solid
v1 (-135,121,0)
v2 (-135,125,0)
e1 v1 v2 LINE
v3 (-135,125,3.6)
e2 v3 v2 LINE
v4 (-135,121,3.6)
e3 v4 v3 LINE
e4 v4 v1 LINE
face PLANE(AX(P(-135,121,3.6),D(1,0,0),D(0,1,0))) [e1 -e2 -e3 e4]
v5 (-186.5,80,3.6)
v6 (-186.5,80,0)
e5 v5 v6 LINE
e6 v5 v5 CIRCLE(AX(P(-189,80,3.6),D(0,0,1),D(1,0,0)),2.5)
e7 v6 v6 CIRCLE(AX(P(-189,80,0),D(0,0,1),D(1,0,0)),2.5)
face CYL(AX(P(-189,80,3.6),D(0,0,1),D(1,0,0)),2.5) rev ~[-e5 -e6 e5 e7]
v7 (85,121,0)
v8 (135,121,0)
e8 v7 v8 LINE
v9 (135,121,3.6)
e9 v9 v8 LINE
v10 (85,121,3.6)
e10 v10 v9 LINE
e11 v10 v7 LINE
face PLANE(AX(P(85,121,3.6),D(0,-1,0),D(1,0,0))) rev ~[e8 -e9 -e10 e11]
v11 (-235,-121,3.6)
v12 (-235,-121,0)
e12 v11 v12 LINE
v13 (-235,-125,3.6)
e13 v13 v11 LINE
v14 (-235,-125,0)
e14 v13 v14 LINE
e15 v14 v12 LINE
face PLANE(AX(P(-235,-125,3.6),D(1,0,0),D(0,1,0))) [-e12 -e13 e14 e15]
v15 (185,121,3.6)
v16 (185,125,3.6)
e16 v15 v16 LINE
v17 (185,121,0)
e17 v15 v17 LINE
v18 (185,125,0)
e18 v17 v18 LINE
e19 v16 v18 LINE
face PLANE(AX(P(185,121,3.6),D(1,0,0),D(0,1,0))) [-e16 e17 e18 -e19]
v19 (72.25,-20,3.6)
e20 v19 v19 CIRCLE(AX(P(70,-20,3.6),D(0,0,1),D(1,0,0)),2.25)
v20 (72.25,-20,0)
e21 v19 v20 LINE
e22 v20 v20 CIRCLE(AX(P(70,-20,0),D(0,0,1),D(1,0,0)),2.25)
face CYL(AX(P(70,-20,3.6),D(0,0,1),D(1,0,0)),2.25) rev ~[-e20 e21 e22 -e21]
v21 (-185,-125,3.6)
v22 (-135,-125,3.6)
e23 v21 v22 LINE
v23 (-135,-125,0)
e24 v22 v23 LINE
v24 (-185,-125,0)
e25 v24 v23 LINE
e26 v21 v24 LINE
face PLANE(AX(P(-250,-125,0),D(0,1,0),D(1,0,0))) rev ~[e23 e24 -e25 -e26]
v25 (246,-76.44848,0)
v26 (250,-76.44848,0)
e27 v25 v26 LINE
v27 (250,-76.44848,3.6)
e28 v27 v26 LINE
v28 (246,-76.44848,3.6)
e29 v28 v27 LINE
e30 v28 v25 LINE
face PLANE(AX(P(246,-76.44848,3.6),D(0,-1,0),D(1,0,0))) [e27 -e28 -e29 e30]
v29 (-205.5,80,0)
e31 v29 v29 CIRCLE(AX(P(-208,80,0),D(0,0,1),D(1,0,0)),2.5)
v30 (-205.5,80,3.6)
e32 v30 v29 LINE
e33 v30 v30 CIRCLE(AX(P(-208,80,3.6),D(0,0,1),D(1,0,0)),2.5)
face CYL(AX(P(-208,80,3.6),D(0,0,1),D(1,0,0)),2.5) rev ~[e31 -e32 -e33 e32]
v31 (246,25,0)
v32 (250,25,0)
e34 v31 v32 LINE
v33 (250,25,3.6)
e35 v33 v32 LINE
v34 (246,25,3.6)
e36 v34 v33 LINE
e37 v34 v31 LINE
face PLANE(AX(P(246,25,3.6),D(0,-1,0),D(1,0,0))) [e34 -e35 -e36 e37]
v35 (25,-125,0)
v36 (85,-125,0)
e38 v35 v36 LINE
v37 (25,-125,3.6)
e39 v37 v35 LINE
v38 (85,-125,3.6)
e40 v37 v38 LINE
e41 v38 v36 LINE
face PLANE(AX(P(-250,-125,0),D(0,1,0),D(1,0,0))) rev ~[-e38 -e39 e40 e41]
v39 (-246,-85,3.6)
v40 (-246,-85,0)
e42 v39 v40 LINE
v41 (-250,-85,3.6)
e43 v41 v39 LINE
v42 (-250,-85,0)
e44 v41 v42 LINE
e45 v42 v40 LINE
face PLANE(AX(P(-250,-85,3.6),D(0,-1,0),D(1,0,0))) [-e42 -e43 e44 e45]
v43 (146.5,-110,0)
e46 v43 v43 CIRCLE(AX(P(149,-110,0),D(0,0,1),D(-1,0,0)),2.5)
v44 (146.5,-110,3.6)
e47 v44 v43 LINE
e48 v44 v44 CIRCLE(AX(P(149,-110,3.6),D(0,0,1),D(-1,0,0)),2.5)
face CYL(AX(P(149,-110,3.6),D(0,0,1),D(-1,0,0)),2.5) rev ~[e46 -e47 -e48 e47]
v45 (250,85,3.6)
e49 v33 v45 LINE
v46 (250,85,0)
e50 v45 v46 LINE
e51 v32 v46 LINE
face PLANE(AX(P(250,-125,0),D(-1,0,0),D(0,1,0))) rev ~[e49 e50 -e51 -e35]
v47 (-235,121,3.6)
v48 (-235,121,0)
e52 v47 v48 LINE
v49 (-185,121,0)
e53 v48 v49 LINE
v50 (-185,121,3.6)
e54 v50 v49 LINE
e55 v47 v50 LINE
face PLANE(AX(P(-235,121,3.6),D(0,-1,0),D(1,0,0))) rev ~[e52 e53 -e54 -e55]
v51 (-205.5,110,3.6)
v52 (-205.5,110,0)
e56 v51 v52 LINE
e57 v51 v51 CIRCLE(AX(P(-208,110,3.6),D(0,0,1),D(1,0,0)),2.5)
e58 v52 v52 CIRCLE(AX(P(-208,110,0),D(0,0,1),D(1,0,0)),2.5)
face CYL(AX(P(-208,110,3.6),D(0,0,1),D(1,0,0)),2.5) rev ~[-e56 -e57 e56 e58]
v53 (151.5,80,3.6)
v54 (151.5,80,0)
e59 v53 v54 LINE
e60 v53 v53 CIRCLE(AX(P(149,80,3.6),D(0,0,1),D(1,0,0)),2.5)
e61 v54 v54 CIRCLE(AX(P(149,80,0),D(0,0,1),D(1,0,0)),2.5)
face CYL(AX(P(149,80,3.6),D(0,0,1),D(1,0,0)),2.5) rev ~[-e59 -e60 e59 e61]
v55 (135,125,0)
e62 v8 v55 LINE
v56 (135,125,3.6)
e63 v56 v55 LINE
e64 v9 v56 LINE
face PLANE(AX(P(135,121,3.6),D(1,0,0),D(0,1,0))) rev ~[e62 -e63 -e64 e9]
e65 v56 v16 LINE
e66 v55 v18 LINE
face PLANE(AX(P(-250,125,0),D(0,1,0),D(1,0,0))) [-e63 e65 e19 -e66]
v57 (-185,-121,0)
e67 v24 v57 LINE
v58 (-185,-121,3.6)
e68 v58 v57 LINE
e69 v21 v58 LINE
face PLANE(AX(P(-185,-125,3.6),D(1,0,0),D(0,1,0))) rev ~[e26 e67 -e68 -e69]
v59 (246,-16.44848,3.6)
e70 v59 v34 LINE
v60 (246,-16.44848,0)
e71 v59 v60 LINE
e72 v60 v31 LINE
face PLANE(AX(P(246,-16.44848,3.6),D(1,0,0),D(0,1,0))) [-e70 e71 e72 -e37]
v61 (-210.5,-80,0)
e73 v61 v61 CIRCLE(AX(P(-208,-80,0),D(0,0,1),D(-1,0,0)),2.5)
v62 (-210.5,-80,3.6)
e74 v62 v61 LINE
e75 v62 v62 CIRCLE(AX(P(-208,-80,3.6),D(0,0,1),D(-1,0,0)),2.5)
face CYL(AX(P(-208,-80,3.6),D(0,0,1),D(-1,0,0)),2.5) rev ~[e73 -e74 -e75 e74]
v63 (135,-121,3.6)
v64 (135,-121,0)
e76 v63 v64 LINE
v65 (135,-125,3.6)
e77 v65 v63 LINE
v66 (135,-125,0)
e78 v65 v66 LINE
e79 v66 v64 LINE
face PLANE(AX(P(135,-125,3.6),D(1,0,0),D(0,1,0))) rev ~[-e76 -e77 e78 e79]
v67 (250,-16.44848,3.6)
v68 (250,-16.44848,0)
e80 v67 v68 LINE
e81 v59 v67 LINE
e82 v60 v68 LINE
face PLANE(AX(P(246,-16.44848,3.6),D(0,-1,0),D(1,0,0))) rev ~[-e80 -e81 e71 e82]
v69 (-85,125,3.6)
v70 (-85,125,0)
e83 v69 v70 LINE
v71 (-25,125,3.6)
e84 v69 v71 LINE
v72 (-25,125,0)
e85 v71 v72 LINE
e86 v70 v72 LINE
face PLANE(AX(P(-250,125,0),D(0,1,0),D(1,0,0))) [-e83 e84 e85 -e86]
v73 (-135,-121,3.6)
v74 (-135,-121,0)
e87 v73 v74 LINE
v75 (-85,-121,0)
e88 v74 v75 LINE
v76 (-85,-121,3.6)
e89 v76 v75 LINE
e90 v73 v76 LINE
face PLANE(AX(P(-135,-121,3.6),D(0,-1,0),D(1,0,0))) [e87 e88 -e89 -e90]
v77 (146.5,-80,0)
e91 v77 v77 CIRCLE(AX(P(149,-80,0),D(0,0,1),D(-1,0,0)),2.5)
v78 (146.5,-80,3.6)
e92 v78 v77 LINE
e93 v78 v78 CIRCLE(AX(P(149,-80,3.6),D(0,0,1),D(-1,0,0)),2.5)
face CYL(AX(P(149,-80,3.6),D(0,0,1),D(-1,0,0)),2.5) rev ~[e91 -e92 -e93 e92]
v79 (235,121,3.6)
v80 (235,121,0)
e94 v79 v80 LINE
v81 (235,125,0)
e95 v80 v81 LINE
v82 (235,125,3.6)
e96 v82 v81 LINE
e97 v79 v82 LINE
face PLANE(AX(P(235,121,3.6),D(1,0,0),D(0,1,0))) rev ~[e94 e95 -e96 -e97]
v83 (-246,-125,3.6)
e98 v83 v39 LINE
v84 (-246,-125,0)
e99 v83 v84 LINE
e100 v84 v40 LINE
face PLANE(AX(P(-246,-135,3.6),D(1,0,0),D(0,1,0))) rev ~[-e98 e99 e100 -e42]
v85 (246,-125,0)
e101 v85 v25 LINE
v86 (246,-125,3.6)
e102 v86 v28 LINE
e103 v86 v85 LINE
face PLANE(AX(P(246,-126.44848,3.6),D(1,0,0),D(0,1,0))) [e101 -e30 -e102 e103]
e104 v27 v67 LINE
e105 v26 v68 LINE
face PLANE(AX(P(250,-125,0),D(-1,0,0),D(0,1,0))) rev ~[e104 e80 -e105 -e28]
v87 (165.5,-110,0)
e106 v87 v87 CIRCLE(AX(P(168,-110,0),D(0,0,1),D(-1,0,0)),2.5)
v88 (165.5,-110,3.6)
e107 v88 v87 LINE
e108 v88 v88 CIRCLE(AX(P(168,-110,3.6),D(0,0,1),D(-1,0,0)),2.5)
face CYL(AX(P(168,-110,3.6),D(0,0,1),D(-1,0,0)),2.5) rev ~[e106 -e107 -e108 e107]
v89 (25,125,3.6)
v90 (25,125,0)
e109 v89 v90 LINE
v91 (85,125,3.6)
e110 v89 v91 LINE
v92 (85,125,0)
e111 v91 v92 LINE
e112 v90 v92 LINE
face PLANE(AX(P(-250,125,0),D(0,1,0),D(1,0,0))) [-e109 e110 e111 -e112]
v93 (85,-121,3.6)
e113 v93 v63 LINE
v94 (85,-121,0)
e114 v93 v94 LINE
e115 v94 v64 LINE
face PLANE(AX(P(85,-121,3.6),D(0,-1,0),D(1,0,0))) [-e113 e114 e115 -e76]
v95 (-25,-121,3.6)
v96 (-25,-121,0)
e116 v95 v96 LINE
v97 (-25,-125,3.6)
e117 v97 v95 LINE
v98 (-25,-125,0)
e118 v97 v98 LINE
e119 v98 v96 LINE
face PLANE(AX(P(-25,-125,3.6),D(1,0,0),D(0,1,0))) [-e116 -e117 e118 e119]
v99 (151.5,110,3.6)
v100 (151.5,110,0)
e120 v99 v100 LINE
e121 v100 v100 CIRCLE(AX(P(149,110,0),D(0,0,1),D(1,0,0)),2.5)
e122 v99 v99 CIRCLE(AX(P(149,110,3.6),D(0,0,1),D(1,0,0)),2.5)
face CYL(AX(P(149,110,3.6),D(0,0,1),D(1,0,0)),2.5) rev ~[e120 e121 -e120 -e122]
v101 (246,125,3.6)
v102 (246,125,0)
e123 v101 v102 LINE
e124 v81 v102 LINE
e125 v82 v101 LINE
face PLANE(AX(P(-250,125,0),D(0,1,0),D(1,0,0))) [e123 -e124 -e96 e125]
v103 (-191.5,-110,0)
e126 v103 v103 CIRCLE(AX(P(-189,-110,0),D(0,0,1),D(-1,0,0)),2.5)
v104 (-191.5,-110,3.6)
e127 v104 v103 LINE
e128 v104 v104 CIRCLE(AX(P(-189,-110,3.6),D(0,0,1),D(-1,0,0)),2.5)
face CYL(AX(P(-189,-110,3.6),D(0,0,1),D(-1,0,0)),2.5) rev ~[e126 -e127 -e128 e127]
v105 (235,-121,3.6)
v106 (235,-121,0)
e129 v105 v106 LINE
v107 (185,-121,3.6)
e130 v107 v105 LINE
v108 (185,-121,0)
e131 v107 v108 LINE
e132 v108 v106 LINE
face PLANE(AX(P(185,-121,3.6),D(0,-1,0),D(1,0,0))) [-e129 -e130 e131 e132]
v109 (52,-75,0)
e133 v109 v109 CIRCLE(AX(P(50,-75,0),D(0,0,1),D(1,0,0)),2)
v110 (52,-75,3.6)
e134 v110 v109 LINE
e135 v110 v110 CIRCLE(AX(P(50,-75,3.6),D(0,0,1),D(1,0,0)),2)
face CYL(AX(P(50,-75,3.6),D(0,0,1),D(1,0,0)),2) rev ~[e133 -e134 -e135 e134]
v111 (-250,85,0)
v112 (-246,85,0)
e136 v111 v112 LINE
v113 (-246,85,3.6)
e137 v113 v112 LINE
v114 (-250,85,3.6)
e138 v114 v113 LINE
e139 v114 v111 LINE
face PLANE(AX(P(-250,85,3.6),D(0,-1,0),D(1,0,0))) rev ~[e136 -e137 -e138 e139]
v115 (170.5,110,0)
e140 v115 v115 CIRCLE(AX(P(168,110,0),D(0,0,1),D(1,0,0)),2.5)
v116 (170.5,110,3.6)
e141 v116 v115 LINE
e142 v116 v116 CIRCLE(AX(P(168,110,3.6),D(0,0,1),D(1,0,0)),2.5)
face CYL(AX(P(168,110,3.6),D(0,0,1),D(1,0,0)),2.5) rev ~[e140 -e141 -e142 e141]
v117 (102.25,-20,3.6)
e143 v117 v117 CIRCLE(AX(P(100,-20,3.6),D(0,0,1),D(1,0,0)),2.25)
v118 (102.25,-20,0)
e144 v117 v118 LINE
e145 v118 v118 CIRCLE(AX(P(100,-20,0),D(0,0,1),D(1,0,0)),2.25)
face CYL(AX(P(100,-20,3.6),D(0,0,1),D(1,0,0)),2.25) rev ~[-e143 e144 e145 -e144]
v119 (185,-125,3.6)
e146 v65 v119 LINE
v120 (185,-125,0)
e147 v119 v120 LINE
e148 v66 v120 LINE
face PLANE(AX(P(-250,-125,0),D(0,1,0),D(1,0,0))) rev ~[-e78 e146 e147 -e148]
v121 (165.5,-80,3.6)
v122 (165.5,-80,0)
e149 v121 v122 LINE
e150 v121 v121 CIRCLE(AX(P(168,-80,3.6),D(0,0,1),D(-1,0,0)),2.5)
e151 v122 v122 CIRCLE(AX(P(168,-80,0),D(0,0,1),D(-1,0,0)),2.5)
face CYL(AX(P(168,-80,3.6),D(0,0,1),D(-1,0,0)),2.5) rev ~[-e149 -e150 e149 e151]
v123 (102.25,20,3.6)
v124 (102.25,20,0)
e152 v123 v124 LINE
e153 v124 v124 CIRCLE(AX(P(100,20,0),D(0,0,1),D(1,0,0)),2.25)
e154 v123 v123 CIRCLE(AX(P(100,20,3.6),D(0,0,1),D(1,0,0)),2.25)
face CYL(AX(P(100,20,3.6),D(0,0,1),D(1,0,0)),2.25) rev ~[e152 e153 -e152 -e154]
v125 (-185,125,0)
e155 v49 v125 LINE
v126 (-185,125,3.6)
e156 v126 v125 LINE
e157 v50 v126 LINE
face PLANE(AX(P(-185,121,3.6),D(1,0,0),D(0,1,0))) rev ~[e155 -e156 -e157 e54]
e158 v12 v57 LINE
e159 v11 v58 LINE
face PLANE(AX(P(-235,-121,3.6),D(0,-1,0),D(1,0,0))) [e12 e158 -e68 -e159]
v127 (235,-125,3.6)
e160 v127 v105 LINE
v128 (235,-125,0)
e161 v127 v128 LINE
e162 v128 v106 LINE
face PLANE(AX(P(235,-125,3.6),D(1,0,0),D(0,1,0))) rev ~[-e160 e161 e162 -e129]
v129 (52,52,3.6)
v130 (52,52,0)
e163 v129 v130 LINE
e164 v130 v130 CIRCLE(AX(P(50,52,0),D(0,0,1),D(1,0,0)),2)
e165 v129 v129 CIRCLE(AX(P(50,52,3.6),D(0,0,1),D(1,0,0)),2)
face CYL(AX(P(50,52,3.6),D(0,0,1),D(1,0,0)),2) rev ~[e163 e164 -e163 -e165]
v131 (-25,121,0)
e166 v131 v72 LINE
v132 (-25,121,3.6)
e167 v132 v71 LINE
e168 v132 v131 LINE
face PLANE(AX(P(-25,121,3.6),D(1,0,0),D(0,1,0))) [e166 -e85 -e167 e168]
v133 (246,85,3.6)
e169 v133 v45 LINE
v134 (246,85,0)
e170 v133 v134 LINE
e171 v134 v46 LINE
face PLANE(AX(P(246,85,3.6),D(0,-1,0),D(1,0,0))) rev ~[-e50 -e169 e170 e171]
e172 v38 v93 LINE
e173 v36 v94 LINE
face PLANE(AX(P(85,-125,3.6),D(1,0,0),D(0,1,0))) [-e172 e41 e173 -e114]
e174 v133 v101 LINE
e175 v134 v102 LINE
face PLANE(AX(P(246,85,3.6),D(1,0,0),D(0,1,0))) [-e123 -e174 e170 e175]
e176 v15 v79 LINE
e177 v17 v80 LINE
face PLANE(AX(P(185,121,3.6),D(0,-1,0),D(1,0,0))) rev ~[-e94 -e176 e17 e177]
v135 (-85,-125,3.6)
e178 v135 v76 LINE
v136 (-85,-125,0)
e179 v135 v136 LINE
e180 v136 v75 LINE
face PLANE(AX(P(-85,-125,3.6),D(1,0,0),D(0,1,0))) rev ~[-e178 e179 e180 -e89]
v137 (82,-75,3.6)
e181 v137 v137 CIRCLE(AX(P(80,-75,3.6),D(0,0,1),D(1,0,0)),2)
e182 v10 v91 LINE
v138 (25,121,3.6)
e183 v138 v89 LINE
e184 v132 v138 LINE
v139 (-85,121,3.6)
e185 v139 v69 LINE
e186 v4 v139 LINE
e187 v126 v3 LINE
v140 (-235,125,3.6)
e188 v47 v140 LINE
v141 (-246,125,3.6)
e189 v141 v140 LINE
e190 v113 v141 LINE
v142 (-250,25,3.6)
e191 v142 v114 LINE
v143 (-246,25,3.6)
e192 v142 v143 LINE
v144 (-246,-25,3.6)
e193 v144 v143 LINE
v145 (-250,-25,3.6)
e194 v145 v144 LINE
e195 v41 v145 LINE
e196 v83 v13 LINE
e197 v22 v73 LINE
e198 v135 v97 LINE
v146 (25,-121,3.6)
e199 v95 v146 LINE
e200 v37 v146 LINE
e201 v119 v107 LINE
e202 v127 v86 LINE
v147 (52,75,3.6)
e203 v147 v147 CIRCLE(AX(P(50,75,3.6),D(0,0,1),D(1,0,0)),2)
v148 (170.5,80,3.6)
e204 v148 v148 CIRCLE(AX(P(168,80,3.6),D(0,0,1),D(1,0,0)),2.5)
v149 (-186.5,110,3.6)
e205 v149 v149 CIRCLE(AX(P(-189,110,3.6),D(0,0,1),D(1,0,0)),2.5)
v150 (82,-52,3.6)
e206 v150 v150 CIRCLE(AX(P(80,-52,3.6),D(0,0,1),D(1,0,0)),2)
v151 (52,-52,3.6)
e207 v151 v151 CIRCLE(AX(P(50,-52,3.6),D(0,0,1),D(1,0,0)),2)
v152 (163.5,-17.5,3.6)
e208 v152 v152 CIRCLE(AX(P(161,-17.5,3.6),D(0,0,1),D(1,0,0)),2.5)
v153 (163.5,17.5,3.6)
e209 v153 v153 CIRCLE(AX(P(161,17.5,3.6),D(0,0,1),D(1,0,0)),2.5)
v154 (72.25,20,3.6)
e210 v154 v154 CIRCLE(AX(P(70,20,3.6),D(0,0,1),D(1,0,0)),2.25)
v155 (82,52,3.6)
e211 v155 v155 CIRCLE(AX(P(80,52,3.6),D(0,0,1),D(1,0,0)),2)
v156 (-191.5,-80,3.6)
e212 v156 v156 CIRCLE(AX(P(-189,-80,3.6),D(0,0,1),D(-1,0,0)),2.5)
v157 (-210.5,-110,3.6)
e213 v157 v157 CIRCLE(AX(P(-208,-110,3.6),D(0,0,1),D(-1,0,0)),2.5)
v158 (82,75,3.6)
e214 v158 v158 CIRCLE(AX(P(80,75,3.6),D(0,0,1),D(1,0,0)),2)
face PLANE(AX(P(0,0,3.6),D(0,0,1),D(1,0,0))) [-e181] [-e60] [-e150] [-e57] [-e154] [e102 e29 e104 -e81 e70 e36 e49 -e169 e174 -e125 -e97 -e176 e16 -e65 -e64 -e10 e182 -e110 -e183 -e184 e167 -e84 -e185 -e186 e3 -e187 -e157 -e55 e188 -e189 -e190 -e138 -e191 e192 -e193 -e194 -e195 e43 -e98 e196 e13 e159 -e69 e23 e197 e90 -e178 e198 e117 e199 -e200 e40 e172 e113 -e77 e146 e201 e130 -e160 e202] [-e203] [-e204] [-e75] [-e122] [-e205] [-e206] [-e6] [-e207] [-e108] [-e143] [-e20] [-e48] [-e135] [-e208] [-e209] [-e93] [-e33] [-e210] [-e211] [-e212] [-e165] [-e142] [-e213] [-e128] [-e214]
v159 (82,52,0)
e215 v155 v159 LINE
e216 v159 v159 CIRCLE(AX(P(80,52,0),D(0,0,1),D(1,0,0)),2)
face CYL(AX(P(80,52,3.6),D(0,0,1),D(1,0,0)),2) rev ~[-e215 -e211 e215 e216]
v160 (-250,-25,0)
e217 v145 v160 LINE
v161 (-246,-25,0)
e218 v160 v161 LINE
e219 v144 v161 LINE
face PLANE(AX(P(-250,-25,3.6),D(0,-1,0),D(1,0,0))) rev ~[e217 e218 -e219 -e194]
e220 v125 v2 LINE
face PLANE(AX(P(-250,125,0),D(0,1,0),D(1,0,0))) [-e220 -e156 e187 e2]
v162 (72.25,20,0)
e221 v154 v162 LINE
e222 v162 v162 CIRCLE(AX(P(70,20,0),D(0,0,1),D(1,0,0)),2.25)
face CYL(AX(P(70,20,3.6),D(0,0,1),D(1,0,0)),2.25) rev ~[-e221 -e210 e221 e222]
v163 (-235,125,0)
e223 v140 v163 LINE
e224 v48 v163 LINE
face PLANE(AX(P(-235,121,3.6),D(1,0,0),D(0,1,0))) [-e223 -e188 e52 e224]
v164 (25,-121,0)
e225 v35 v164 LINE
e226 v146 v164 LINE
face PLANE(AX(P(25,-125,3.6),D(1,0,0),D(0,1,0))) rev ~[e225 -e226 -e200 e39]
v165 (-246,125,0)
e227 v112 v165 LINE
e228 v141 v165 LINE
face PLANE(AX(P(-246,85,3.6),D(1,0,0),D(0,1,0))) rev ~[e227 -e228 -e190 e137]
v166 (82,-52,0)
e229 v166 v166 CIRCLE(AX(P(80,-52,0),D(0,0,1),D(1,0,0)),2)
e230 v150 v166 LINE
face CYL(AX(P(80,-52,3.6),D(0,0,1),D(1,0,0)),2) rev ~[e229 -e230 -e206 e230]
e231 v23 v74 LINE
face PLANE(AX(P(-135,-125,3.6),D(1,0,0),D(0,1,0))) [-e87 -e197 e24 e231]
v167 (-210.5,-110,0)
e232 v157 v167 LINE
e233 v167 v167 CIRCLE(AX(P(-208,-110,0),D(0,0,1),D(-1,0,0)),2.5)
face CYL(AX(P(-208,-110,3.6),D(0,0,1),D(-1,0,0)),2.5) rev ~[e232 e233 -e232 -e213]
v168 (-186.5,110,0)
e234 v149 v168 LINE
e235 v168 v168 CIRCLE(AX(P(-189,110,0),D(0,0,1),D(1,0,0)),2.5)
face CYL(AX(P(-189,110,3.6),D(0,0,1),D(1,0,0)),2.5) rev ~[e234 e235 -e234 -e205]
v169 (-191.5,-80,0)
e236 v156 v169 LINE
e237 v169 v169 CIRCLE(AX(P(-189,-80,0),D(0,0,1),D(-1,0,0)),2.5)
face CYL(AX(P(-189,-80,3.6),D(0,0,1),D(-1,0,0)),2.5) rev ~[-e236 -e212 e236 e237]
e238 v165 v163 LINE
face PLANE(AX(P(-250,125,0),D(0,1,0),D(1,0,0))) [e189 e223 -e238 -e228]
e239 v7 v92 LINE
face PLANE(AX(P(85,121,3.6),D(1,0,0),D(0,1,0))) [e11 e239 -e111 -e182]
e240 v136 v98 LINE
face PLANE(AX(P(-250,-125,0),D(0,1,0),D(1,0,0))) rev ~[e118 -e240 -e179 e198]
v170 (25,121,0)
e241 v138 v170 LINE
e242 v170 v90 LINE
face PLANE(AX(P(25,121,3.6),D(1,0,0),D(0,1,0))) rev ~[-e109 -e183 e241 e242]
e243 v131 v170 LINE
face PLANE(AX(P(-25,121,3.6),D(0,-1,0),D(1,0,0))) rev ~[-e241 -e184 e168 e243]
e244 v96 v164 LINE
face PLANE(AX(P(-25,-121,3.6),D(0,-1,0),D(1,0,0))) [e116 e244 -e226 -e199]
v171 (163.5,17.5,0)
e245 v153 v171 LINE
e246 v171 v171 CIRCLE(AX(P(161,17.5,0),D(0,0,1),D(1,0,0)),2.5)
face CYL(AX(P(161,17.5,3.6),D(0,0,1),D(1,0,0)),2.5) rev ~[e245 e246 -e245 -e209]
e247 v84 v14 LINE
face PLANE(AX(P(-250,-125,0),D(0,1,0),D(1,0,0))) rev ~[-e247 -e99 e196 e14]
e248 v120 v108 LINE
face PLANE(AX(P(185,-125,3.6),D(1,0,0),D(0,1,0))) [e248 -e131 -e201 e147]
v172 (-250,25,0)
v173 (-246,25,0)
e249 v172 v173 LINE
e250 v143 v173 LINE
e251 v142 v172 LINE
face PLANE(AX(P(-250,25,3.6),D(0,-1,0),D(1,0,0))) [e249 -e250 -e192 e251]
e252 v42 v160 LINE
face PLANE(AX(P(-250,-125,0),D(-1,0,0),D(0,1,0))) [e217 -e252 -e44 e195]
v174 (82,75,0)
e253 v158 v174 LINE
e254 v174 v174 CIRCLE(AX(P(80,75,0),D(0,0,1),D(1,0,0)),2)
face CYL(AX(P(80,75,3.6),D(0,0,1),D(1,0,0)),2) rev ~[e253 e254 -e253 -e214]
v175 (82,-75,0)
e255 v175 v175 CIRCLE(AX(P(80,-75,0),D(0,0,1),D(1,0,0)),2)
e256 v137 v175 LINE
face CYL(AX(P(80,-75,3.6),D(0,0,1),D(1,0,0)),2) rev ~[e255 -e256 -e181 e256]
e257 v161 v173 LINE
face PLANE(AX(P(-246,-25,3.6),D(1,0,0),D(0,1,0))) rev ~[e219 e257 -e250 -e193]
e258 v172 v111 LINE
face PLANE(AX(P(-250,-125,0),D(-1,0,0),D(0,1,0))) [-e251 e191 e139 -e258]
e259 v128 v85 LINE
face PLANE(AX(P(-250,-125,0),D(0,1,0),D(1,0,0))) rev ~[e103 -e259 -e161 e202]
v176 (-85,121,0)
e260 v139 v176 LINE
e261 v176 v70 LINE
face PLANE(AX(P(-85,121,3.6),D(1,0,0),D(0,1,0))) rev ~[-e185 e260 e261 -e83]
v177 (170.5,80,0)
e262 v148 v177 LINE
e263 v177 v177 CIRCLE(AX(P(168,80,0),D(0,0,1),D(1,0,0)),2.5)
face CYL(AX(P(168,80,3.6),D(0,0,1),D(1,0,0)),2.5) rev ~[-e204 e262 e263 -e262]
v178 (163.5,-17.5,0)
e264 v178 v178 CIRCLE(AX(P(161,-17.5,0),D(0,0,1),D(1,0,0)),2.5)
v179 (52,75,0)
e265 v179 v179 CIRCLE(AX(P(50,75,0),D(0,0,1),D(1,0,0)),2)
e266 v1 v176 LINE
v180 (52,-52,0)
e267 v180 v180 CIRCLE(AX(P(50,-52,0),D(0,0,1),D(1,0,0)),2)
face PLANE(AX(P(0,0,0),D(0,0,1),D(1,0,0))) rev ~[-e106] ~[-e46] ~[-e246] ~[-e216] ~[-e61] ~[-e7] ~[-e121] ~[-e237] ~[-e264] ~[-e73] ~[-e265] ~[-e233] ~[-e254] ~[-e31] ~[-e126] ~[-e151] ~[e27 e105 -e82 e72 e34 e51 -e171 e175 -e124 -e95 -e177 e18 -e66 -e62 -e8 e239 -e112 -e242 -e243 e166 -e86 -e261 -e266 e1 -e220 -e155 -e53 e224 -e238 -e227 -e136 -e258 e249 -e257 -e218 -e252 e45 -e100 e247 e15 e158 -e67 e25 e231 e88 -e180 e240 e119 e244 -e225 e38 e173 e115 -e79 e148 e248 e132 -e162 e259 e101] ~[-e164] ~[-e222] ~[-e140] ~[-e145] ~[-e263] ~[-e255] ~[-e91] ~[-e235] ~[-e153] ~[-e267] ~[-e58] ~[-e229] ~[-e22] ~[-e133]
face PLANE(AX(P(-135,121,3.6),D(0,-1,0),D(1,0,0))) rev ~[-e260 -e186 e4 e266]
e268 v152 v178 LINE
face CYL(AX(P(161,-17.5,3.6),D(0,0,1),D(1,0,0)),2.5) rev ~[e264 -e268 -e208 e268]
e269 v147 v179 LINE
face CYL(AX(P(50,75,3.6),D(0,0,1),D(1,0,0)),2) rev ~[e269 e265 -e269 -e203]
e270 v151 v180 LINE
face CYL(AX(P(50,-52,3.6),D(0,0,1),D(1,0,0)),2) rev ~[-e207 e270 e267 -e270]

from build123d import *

# Parameters (mm, degrees)
SKETCH_1_W          = 500
SKETCH_1_H          = 250
EXTRUDE_1_DEPTH     = 3.6
SKETCH_2_W          = 50
SKETCH_2_H          = 4
CUT_EXTRUDE_1_DEPTH = 3.6
SKETCH_3_W          = 4
SKETCH_3_H          = 50
SKETCH_3_H_2        = 41.448480175
CUT_EXTRUDE_2_DEPTH = 3.6
SKETCH_4_R          = 2
CUT_EXTRUDE_3_DEPTH = 280.531679779
SKETCH_5_R          = 2
CUT_EXTRUDE_4_DEPTH = 10
SKETCH_7_R          = 2.5
CUT_EXTRUDE_5_DEPTH = 10
SKETCH_9_R          = 2.25
CUT_EXTRUDE_6_DEPTH = 280.531679779
SKETCH_10_R         = 2.5
CUT_EXTRUDE_7_DEPTH = 280.531679779


with BuildPart() as part:
    # 草图1 → 凸台-拉伸1 (new body)
    with BuildSketch(Plane.XY):
        Rectangle(SKETCH_1_W, SKETCH_1_H)
    extrude(amount=EXTRUDE_1_DEPTH)

    # 草图2 → 切除-拉伸1 (cut)
    with BuildSketch(Plane.XY.offset(3.6)):
        with Locations((0, 123)):
            Rectangle(SKETCH_2_W, SKETCH_2_H)
        with Locations((-110, 123)):
            Rectangle(SKETCH_2_W, SKETCH_2_H)
        with Locations((-210, 123)):
            Rectangle(SKETCH_2_W, SKETCH_2_H)
        with Locations((110, 123)):
            Rectangle(SKETCH_2_W, SKETCH_2_H)
        with Locations((210, 123)):
            Rectangle(SKETCH_2_W, SKETCH_2_H)
        with Locations((210, -123)):
            Rectangle(SKETCH_2_W, SKETCH_2_H)
        with Locations((110, -123)):
            Rectangle(SKETCH_2_W, SKETCH_2_H)
        with Locations((-210, -123)):
            Rectangle(SKETCH_2_W, SKETCH_2_H)
        with Locations((-110, -123)):
            Rectangle(SKETCH_2_W, SKETCH_2_H)
        with Locations((0, -123)):
            Rectangle(SKETCH_2_W, SKETCH_2_H)
    extrude(amount=-CUT_EXTRUDE_1_DEPTH, mode=Mode.SUBTRACT)

    # 草图3 → 切除-拉伸2 (cut)
    with BuildSketch(Plane.XY.offset(3.6)):
        with Locations((-248, 0)):
            Rectangle(SKETCH_3_W, SKETCH_3_H)
        with Locations((-248, 110)):
            Rectangle(SKETCH_3_W, SKETCH_3_H)
        with Locations((-248, -110)):
            Rectangle(SKETCH_3_W, SKETCH_3_H)
        with Locations((248, 4.275759912)):
            Rectangle(SKETCH_3_W, SKETCH_3_H_2)
        with Locations((248, -101.448480175)):
            Rectangle(SKETCH_3_W, SKETCH_3_H)
        with Locations((248, 110)):
            Rectangle(SKETCH_3_W, SKETCH_3_H)
    extrude(amount=-CUT_EXTRUDE_2_DEPTH, mode=Mode.SUBTRACT)

    # 草图4 → 切除-拉伸3 (cut, through all)
    with BuildSketch(Plane.XY.offset(3.6)):
        with Locations((80, 75)):
            Circle(SKETCH_4_R)
        with Locations((80, -52)):
            Circle(SKETCH_4_R)
        with Locations((80, 52)):
            Circle(SKETCH_4_R)
        with Locations((80, -75)):
            Circle(SKETCH_4_R)
    extrude(amount=-CUT_EXTRUDE_3_DEPTH, mode=Mode.SUBTRACT)

    # 草图5 → 切除-拉伸4 (cut)
    with BuildSketch(Plane.XY.offset(3.6)):
        with Locations((50, 75)):
            Circle(SKETCH_5_R)
        with Locations((50, 52)):
            Circle(SKETCH_5_R)
        with Locations((50, -52)):
            Circle(SKETCH_5_R)
        with Locations((50, -75)):
            Circle(SKETCH_5_R)
    extrude(amount=-CUT_EXTRUDE_4_DEPTH, mode=Mode.SUBTRACT)

    # 草图7 → 切除-拉伸5 (cut)
    with BuildSketch(Plane.XY.offset(3.6)):
        with Locations((161, -17.5)):
            Circle(SKETCH_7_R)
        with Locations((161, 17.5)):
            Circle(SKETCH_7_R)
    extrude(amount=-CUT_EXTRUDE_5_DEPTH, mode=Mode.SUBTRACT)

    # 草图9 → 切除-拉伸6 (cut, through all)
    with BuildSketch(Plane.XY.offset(3.6)):
        with Locations((70, 20)):
            Circle(SKETCH_9_R)
        with Locations((100, 20)):
            Circle(SKETCH_9_R)
        with Locations((70, -20)):
            Circle(SKETCH_9_R)
        with Locations((100, -20)):
            Circle(SKETCH_9_R)
    extrude(amount=-CUT_EXTRUDE_6_DEPTH, mode=Mode.SUBTRACT)

    # 草图10 → 切除-拉伸7 (cut, through all)
    with BuildSketch(Plane.XY.offset(3.6)):
        with Locations((-208, 110)):
            Circle(SKETCH_10_R)
        with Locations((-189, 110)):
            Circle(SKETCH_10_R)
        with Locations((-208, 80)):
            Circle(SKETCH_10_R)
        with Locations((-189, 80)):
            Circle(SKETCH_10_R)
        with Locations(Location((-189, -110, 0), (0, 0, 180))):
            Circle(SKETCH_10_R)
        with Locations(Location((-189, -80, 0), (0, 0, 180))):
            Circle(SKETCH_10_R)
        with Locations(Location((-208, -80, 0), (0, 0, 180))):
            Circle(SKETCH_10_R)
        with Locations(Location((-208, -110, 0), (0, 0, 180))):
            Circle(SKETCH_10_R)
        with Locations((149, 110)):
            Circle(SKETCH_10_R)
        with Locations((168, 110)):
            Circle(SKETCH_10_R)
        with Locations((149, 80)):
            Circle(SKETCH_10_R)
        with Locations((168, 80)):
            Circle(SKETCH_10_R)
        with Locations(Location((168, -110, 0), (0, 0, 180))):
            Circle(SKETCH_10_R)
        with Locations(Location((168, -80, 0), (0, 0, 180))):
            Circle(SKETCH_10_R)
        with Locations(Location((149, -80, 0), (0, 0, 180))):
            Circle(SKETCH_10_R)
        with Locations(Location((149, -110, 0), (0, 0, 180))):
            Circle(SKETCH_10_R)
    extrude(amount=-CUT_EXTRUDE_7_DEPTH, mode=Mode.SUBTRACT)


solid = part.part
